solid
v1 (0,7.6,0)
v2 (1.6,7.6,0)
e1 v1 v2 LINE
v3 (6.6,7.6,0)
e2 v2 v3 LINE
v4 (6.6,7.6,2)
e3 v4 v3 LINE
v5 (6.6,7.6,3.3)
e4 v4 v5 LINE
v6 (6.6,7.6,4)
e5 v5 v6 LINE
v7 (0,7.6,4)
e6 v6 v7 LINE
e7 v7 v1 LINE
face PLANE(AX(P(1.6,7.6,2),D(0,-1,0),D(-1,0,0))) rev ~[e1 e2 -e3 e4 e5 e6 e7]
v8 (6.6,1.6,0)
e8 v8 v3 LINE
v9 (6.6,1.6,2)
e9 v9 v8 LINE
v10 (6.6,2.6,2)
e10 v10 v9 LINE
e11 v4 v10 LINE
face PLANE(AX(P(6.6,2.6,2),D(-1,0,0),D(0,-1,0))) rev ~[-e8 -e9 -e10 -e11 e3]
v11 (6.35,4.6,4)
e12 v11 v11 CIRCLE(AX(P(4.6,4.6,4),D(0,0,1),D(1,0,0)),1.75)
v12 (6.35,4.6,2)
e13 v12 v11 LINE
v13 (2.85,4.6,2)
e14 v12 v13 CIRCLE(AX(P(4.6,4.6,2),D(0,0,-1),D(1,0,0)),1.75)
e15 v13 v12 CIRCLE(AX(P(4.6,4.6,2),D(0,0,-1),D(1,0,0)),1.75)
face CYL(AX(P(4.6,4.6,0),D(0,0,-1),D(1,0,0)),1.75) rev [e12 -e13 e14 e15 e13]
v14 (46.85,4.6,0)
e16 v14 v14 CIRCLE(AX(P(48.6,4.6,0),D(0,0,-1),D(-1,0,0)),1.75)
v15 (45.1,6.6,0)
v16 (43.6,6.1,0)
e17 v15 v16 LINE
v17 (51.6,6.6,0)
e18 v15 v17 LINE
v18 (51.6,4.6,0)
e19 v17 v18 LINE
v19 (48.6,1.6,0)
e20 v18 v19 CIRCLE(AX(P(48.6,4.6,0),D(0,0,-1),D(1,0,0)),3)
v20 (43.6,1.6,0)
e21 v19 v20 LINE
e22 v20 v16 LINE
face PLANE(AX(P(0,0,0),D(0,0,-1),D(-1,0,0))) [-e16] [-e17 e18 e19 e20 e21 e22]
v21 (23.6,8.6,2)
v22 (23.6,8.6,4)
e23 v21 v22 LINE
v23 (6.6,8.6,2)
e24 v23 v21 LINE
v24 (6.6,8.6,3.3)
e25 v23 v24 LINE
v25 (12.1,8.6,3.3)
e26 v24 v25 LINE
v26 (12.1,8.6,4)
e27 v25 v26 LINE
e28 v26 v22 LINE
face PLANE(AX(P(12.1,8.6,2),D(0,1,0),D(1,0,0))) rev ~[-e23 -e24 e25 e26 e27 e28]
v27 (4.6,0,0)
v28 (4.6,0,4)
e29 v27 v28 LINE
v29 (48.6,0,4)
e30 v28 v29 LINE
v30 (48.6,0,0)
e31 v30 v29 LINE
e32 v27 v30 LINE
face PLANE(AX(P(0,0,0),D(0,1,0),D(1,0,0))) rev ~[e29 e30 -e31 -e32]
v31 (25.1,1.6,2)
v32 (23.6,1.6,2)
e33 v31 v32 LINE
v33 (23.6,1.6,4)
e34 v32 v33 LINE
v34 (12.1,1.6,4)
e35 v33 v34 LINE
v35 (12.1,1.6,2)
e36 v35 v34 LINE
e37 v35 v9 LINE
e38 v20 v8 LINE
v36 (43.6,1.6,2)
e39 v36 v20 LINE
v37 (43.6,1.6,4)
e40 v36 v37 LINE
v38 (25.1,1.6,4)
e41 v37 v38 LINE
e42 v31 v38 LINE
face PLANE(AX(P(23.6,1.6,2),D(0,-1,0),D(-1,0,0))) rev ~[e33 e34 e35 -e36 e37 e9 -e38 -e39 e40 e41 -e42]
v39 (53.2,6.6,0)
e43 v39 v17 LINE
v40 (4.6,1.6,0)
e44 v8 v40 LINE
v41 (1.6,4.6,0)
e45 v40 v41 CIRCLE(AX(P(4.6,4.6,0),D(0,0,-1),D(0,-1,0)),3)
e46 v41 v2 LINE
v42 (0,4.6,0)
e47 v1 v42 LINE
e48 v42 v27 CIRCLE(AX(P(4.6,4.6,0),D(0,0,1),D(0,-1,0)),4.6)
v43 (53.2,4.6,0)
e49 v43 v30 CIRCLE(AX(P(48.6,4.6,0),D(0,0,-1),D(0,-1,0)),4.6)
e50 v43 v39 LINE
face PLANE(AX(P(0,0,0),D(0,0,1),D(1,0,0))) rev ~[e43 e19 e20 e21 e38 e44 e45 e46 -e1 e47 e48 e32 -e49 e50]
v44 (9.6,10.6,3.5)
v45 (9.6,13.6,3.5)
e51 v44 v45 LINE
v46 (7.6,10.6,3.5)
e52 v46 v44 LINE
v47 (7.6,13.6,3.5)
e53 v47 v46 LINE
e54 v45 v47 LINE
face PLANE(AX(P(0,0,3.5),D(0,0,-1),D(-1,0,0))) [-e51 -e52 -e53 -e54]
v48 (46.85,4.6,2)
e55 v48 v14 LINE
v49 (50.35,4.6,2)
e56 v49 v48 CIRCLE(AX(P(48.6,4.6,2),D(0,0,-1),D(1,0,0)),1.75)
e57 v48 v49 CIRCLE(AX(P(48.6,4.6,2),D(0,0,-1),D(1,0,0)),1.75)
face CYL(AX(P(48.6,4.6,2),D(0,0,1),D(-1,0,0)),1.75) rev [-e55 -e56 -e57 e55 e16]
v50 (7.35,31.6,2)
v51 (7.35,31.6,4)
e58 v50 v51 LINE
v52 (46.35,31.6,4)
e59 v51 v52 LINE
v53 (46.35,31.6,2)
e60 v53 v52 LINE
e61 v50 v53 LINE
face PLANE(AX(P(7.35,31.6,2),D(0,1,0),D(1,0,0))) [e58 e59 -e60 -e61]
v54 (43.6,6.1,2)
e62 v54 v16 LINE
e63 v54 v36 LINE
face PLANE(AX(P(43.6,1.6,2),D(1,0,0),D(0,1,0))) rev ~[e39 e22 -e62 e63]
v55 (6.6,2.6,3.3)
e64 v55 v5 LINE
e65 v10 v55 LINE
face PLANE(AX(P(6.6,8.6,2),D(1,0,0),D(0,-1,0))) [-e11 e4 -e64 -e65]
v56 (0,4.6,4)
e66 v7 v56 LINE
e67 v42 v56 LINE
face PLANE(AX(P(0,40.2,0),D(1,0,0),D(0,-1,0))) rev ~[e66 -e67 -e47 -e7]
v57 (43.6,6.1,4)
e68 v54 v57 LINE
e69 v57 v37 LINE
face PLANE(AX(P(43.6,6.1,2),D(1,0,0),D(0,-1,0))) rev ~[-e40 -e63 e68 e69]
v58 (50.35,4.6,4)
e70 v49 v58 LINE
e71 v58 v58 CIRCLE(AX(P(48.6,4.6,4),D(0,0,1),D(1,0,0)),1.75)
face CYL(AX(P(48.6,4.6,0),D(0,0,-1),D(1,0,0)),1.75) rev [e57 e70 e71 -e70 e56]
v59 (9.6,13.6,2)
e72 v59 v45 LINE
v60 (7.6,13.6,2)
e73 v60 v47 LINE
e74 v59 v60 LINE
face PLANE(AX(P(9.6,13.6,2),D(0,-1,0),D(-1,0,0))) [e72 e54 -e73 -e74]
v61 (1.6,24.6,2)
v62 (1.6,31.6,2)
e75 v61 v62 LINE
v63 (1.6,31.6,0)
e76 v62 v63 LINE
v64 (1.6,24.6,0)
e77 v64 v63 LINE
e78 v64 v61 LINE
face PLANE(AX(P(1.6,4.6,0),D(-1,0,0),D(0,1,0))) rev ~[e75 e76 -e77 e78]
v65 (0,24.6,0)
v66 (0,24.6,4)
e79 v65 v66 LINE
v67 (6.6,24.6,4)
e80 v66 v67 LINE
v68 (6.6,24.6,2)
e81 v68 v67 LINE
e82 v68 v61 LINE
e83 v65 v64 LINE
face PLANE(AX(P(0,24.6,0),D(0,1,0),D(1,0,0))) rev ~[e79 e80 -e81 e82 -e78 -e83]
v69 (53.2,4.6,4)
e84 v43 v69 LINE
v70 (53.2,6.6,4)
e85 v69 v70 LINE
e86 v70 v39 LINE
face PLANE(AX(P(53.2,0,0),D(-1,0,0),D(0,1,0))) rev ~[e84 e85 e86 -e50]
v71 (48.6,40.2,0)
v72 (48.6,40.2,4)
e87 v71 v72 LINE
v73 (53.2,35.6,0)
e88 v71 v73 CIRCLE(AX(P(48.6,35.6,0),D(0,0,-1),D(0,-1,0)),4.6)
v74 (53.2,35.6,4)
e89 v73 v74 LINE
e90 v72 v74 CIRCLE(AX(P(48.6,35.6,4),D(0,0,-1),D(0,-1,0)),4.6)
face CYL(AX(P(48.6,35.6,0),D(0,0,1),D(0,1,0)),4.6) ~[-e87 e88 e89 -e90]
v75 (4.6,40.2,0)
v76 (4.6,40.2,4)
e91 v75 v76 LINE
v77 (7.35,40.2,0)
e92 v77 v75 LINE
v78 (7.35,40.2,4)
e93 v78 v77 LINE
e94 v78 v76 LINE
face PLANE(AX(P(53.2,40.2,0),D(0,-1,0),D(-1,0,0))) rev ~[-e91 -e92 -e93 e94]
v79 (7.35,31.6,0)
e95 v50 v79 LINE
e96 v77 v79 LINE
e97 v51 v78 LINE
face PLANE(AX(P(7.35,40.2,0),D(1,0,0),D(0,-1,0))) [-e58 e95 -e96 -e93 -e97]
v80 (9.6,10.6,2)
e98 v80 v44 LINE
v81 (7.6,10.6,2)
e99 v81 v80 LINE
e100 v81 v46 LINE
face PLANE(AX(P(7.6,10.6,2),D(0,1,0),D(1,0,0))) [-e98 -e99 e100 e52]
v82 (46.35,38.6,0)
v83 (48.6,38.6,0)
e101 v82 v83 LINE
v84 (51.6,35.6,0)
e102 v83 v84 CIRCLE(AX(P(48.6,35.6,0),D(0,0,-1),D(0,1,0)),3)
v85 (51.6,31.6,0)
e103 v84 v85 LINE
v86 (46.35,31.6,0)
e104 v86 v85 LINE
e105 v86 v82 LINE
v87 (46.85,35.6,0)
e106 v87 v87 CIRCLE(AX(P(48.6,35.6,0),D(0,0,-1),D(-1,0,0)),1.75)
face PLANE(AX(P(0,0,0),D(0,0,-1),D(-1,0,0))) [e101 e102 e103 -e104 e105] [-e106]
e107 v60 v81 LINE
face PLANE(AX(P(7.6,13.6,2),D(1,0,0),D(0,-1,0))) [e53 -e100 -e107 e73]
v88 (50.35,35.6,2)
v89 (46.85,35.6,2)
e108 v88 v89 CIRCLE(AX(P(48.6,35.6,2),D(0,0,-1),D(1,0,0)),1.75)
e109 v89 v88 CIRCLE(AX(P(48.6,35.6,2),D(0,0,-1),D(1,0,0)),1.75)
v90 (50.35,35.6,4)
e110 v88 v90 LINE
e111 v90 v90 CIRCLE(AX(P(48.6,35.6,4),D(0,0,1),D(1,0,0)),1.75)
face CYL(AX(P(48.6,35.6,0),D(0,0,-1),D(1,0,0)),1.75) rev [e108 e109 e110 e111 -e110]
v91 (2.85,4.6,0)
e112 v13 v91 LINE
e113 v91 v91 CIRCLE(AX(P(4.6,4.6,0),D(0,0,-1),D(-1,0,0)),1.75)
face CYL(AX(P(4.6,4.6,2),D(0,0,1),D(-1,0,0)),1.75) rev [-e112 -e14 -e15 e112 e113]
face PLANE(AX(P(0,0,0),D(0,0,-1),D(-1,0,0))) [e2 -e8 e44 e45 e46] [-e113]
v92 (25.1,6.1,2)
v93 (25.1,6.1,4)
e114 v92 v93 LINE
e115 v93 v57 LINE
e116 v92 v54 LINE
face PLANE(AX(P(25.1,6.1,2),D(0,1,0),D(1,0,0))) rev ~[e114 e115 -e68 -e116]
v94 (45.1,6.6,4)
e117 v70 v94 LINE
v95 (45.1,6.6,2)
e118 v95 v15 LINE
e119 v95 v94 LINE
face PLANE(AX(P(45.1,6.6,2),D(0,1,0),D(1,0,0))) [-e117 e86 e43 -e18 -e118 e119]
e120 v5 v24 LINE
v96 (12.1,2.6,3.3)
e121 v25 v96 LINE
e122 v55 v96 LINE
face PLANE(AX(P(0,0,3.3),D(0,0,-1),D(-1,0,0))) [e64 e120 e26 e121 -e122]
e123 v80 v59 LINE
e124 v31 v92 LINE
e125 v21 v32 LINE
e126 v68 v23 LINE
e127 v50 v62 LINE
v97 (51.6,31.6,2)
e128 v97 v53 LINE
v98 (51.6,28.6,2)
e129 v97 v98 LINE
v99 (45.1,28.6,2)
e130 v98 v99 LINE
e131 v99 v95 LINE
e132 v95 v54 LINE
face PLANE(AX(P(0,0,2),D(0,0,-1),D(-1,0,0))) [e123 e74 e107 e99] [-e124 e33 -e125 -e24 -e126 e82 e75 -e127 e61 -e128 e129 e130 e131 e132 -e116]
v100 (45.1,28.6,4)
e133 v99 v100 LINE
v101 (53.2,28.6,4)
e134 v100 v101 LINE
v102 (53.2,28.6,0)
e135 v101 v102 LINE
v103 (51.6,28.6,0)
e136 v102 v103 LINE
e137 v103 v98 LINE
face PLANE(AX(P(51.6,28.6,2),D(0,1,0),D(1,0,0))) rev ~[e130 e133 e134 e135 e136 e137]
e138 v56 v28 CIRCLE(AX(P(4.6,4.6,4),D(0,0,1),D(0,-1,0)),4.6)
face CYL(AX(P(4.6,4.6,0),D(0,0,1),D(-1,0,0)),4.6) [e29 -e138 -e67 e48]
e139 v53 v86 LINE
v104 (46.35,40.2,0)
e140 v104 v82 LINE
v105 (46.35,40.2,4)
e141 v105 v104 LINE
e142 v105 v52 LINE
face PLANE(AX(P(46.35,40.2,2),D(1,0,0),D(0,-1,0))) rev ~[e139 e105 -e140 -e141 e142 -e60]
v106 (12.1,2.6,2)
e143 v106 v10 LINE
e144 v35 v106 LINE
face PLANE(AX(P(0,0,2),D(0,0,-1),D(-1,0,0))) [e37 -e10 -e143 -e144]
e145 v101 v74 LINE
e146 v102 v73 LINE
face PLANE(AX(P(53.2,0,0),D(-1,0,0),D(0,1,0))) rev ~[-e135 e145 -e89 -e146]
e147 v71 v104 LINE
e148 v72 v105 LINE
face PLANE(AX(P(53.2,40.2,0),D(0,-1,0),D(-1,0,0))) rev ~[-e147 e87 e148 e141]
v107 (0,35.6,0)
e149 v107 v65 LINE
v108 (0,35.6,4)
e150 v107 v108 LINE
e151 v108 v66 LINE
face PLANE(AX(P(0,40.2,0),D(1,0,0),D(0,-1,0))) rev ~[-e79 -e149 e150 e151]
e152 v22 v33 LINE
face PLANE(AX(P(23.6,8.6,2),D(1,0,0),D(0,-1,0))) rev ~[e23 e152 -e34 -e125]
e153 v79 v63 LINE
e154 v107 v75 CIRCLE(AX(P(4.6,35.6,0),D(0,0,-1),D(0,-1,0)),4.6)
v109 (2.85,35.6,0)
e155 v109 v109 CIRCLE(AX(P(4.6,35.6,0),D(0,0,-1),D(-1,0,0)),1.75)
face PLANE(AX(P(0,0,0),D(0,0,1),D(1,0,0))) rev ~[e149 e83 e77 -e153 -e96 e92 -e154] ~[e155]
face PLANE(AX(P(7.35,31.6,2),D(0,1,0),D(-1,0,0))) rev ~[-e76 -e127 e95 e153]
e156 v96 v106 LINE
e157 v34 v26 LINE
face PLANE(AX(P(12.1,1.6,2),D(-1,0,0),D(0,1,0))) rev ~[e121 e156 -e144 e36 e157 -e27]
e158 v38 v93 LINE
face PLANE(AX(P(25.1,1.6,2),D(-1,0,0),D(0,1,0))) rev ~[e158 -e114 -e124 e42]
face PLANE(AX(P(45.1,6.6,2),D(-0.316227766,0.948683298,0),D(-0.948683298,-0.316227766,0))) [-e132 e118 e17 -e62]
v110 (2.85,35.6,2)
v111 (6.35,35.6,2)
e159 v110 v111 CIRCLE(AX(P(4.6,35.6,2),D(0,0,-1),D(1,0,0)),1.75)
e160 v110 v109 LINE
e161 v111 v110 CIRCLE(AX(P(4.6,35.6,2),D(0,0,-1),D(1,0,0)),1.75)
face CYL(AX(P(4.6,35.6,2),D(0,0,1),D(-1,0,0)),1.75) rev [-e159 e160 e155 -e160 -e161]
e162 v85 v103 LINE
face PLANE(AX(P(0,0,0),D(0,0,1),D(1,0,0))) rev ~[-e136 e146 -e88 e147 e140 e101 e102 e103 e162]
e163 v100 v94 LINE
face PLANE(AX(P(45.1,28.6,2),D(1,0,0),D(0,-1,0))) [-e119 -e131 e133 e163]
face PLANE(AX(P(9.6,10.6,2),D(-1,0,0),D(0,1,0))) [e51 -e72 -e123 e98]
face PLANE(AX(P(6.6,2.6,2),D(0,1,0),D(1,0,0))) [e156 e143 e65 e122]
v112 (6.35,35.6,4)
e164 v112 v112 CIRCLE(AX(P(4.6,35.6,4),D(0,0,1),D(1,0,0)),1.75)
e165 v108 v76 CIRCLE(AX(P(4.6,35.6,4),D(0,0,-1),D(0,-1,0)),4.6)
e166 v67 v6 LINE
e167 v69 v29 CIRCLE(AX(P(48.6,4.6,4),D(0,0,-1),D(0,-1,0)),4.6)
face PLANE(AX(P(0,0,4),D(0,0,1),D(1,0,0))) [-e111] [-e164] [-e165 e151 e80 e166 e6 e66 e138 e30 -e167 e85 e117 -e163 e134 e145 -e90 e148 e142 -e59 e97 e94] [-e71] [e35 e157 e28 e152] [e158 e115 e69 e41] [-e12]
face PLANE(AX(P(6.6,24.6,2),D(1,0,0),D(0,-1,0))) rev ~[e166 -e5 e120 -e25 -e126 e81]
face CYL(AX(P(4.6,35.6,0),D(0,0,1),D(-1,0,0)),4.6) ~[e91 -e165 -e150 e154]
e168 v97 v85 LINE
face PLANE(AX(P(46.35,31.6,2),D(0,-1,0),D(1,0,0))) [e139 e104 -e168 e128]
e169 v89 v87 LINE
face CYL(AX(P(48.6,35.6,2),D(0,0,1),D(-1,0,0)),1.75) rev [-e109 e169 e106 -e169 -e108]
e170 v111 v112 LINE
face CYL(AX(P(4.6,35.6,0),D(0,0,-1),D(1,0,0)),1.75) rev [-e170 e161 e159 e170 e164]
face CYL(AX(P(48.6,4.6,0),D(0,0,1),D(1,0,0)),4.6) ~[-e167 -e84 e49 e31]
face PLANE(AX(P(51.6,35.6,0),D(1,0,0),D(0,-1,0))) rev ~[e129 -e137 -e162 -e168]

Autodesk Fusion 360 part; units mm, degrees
sketch "Sketch1" plane through (0, 0, 0) normal (0, 0, 1) x (1, 0, 0)
  line L0 (0, 0) -> (53.2, 0)
  line L1 (53.2, 0) -> (53.2, 40.2)
  line L2 (53.2, 40.2) -> (0, 40.2)
  line L3 (0, 40.2) -> (0, 0)
  circle A0 centre (4.6, 4.6) radius 1.75
  circle A1 centre (4.6, 35.6) radius 1.75
  circle A2 centre (48.6, 35.6) radius 1.75
  circle A3 centre (48.6, 4.6) radius 1.75
  dimension "d1" = 53.2
  dimension "d2" = 40.2
  dimension "d3" = 4.6
  dimension "d4" = 4.6
  dimension "d5" = 4.6
  dimension "d6" = 4.6
  dimension "d7" = 4.6
  dimension "d8" = 4.6
  dimension "d9" = 4.6
  dimension "d10" = 4.6
  dimension "d11" = 3.5
  dimension "d12" = 3.5
  dimension "d13" = 3.5
  dimension "d14" = 3.5
extrude "Extrude1" add sketch "Sketch1" along normal blind 4
fillet "Fillet1" radius 4.6 4 edges at (0, 40.2, 2) (0, 0, 2) (53.2, 0, 2) (53.2, 40.2, 2)
sketch "Sketch2" plane through (0, 0, 0) normal (0, 0, -1) x (-1, 0, 0)
  arc A0 (-48.6, 40.2) -> (-53.2, 35.6) centre (-48.6, 35.6) ccw
  line L0 (-53.2, 35.6) -> (-53.2, 4.6)
  arc A1 (-53.2, 4.6) -> (-48.6, 0) centre (-48.6, 4.6) ccw
  line L1 (-48.6, 0) -> (-4.6, 0)
  arc A2 (-4.6, 0) -> (0, 4.6) centre (-4.6, 4.6) ccw
  line L2 (0, 4.6) -> (0, 35.6)
  arc A3 (0, 35.6) -> (-4.6, 40.2) centre (-4.6, 35.6) ccw
  line L3 (-4.6, 40.2) -> (-48.6, 40.2)
  circle A4 centre (-48.6, 4.6) radius 1.75
  circle A5 centre (-48.6, 35.6) radius 1.75
  circle A6 centre (-4.6, 4.6) radius 1.75
  circle A7 centre (-4.6, 35.6) radius 1.75
  line L4 (-51.6, 35.6) -> (-51.6, 4.6)
  arc A8 (-51.6, 4.6) -> (-48.6, 1.6) centre (-48.6, 4.6) ccw
  line L5 (-48.6, 1.6) -> (-4.6, 1.6)
  arc A9 (-4.6, 1.6) -> (-1.6, 4.6) centre (-4.6, 4.6) ccw
  line L6 (-1.6, 4.6) -> (-1.6, 35.6)
  arc A10 (-1.6, 35.6) -> (-4.6, 38.6) centre (-4.6, 35.6) ccw
  line L7 (-4.6, 38.6) -> (-48.6, 38.6)
  arc A11 (-48.6, 38.6) -> (-51.6, 35.6) centre (-48.6, 35.6) ccw
  dimension "d18" = 1.6
extrude "Extrude2" cut sketch "Sketch2" against normal blind 2 contours L4 A8 L5 A9 L6 A10 L7 A11
sketch "Sketch3" plane through (0, 0, 0) normal (0, 0, -1) x (-1, 0, 0)
  line L0 (-51.6, 4.6) -> (-51.6, 35.6)
  arc A0 (-48.6, 38.6) -> (-51.6, 35.6) centre (-48.6, 35.6) ccw
  line L1 (-48.6, 38.6) -> (-4.6, 38.6)
  arc A1 (-1.6, 35.6) -> (-4.6, 38.6) centre (-4.6, 35.6) ccw
  line L2 (-1.6, 35.6) -> (-1.6, 4.6)
  arc A2 (-4.6, 1.6) -> (-1.6, 4.6) centre (-4.6, 4.6) ccw
  line L3 (-4.6, 1.6) -> (-48.6, 1.6)
  arc A3 (-51.6, 4.6) -> (-48.6, 1.6) centre (-48.6, 4.6) ccw
  arc A4 (-48.6, 40.2) -> (-53.2, 35.6) centre (-48.6, 35.6) ccw
  line L4 (-53.2, 35.6) -> (-53.2, 4.6)
  arc A5 (-53.2, 4.6) -> (-48.6, 0) centre (-48.6, 4.6) ccw
  line L5 (-48.6, 0) -> (-4.6, 0)
  arc A6 (-4.6, 0) -> (0, 4.6) centre (-4.6, 4.6) ccw
  line L6 (0, 4.6) -> (0, 35.6)
  arc A7 (0, 35.6) -> (-4.6, 40.2) centre (-4.6, 35.6) ccw
  line L7 (-4.6, 40.2) -> (-48.6, 40.2)
  line L8 (0, 24.6) -> (-1.6, 24.6)
  line L9 (0, 7.6) -> (-1.6, 7.6)
  line L10 (-53.2, 28.6) -> (-51.6, 28.6)
  line L11 (-53.2, 6.6) -> (-51.6, 6.6)
  line L12 (-46.35, 40.2) -> (-46.35, 38.6)
  line L13 (-7.35, 40.2) -> (-7.35, 38.6)
  dimension "d21" = 17
  dimension "d22" = 11
  dimension "d25" = 5
  dimension "d26" = 10
  dimension "d27" = 5.75
  dimension "d73" = 39
extrude "Extrude3" cut sketch "Sketch3" against normal blind 2 contours L0 L4 L10 L11 | L2 L6 L8 L9 | L1 L7 L12 L13
sketch "Sketch4" plane through (0, 0, 2) normal (0, 0, -1) x (-1, 0, 0)
  circle A0 centre (-48.6, 4.6) radius 1.75
  circle A1 centre (-4.6, 35.6) radius 1.75
  circle A2 centre (-4.6, 4.6) radius 1.75
  circle A3 centre (-48.6, 35.6) radius 1.75
  line L0 (-53.2, 28.6) -> (-53.2, 6.6)
  line L1 (0, 7.6) -> (0, 24.6)
  line L2 (-7.35, 40.2) -> (-46.35, 40.2)
  arc A4 (-48.6, 38.6) -> (-51.6, 35.6) centre (-48.6, 35.6) ccw
  line L3 (-51.6, 35.6) -> (-51.6, 28.6)
  line L4 (-51.6, 28.6) -> (-53.2, 28.6)
  line L5 (-53.2, 6.6) -> (-51.6, 6.6)
  line L6 (-51.6, 6.6) -> (-51.6, 4.6)
  arc A5 (-51.6, 4.6) -> (-48.6, 1.6) centre (-48.6, 4.6) ccw
  line L7 (-48.6, 1.6) -> (-4.6, 1.6)
  arc A6 (-4.6, 1.6) -> (-1.6, 4.6) centre (-4.6, 4.6) ccw
  line L8 (-1.6, 4.6) -> (-1.6, 7.6)
  line L9 (-1.6, 7.6) -> (0, 7.6)
  line L10 (0, 24.6) -> (-1.6, 24.6)
  line L11 (-1.6, 24.6) -> (-1.6, 35.6)
  arc A7 (-1.6, 35.6) -> (-4.6, 38.6) centre (-4.6, 35.6) ccw
  line L12 (-4.6, 38.6) -> (-7.35, 38.6)
  line L13 (-7.35, 38.6) -> (-7.35, 40.2)
  line L14 (-46.35, 40.2) -> (-46.35, 38.6)
  line L15 (-46.35, 38.6) -> (-48.6, 38.6)
  line L16 (-51.6, 28.6) -> (-45.1, 28.6)
  line L17 (-45.1, 28.6) -> (-45.1, 6.6)
  line L18 (-45.1, 6.6) -> (-51.6, 6.6)
  line L19 (-7.35, 38.6) -> (-7.35, 31.6)
  line L20 (-7.35, 31.6) -> (-46.35, 31.6)
  line L21 (-46.35, 31.6) -> (-46.35, 38.6)
  line L22 (-1.6, 24.6) -> (-6.6, 24.6)
  line L23 (-6.6, 24.6) -> (-6.6, 7.6)
  line L24 (-6.6, 7.6) -> (-1.6, 7.6)
  line L25 (-12.1, 1.6) -> (-12.1, 8.6)
  line L26 (-12.1, 8.6) -> (-23.6, 8.6)
  line L27 (-23.6, 8.6) -> (-23.6, 1.6)
  line L28 (-25.1, 1.6) -> (-25.1, 6.1)
  line L29 (-25.1, 6.1) -> (-43.6, 6.1)
  line L30 (-43.6, 6.1) -> (-43.6, 1.6)
  dimension "d74" = 6.5
  dimension "d75" = 7
  dimension "d76" = 5
  dimension "d77" = 10.5
  dimension "d78" = 11.5
  dimension "d79" = 7
  dimension "d80" = 4.5
  dimension "d81" = 23.5
  dimension "d82" = 18.5
extrude "Extrude4" cut sketch "Sketch4" against normal blind 2 contours L0 L4 L5 L16 L17 L18 | L2 L13 L14 L19 L20 L21 | L7 L28 L29 L30 | L7 L25 L26 L27 | L1 L9 L10 L22 L23 L24
sketch "Sketch5" plane through (0, 0, 2) normal (0, 0, -1) x (-1, 0, 0)
  line L0 (-51.6, 35.6) -> (-51.6, 28.6)
  line L1 (-48.6, 1.6) -> (-43.6, 1.6)
  line L2 (-1.6, 7.6) -> (-6.6, 7.6)
  line L3 (-6.6, 24.6) -> (-1.6, 24.6)
  line L4 (-7.35, 38.6) -> (-7.35, 31.6)
  line L5 (-4.6, 38.6) -> (-7.35, 38.6)
  line L6 (-46.35, 31.6) -> (-46.35, 38.6)
  line L7 (-51.6, 28.6) -> (-45.1, 28.6)
  line L8 (-45.1, 6.6) -> (-51.6, 6.6)
  circle A0 centre (-48.6, 35.6) radius 1.75
  circle A1 centre (-4.6, 4.6) radius 1.75
  circle A2 centre (-4.6, 35.6) radius 1.75
  circle A3 centre (-48.6, 4.6) radius 1.75
  line L9 (-12.6, 8.6) -> (-6.6, 8.6)
  line L10 (-6.6, 8.6) -> (-6.6, 2.6)
  line L11 (-6.6, 2.6) -> (-12.6, 2.6)
  line L12 (-12.6, 2.6) -> (-12.6, 8.6)
  arc A4 (-4.6, 1.6) -> (-1.6, 4.6) centre (-4.6, 4.6) ccw
  line L13 (-1.6, 4.6) -> (-1.6, 7.6)
  line L14 (-1.6, 24.6) -> (-1.6, 35.6)
  arc A5 (-1.6, 35.6) -> (-4.6, 38.6) centre (-4.6, 35.6) ccw
  line L15 (-46.35, 38.6) -> (-48.6, 38.6)
  arc A6 (-48.6, 38.6) -> (-51.6, 35.6) centre (-48.6, 35.6) ccw
  line L16 (-51.6, 6.6) -> (-51.6, 4.6)
  arc A7 (-51.6, 4.6) -> (-48.6, 1.6) centre (-48.6, 4.6) ccw
  line L17 (-45.1, 28.6) -> (-45.1, 6.6)
  line L18 (-43.6, 1.6) -> (-43.6, 6.1)
  line L19 (-43.6, 6.1) -> (-25.1, 6.1)
  line L20 (-25.1, 6.1) -> (-25.1, 1.6)
  line L21 (-25.1, 1.6) -> (-23.6, 1.6)
  line L22 (-23.6, 1.6) -> (-23.6, 8.6)
  line L23 (-23.6, 8.6) -> (-12.1, 8.6)
  line L24 (-12.1, 8.6) -> (-12.1, 1.6)
  line L25 (-12.1, 1.6) -> (-4.6, 1.6)
  line L26 (-6.6, 7.6) -> (-6.6, 24.6)
  line L27 (-7.35, 31.6) -> (-46.35, 31.6)
  dimension "d49" = 6
  dimension "d51" = 6
  dimension "d83" = 1
  dimension "d84" = 5
extrude "Extrude5" cut sketch "Sketch5" against normal blind 1.3 contours L9 L10 L11 L24 L26 | L9 L11 L12 L23 L24
sketch "Sketch8" plane through (0, 0, 2) normal (0, 0, -1) x (-1, 0, 0)
  line L0 (-6.6, 24.6) -> (-1.6, 24.6)
  line L1 (-7.35, 38.6) -> (-7.35, 31.6)
  line L2 (-4.6, 38.6) -> (-7.35, 38.6)
  line L3 (-46.35, 31.6) -> (-46.35, 38.6)
  line L4 (-51.6, 28.6) -> (-45.1, 28.6)
  line L5 (-45.1, 6.6) -> (-51.6, 6.6)
  line L6 (-51.6, 35.6) -> (-51.6, 28.6)
  line L7 (-48.6, 1.6) -> (-43.6, 1.6)
  line L8 (-23.6, 8.6) -> (-6.6, 8.6)
  circle A0 centre (-48.6, 35.6) radius 1.75
  circle A1 centre (-4.6, 35.6) radius 1.75
  circle A2 centre (-48.6, 4.6) radius 1.75
  arc A3 (-1.6, 35.6) -> (-4.6, 38.6) centre (-4.6, 35.6) ccw
  line L9 (-46.35, 38.6) -> (-48.6, 38.6)
  arc A4 (-48.6, 38.6) -> (-51.6, 35.6) centre (-48.6, 35.6) ccw
  line L10 (-51.6, 6.6) -> (-51.6, 4.6)
  arc A5 (-51.6, 4.6) -> (-48.6, 1.6) centre (-48.6, 4.6) ccw
  line L11 (-6.6, 8.6) -> (-6.6, 24.6)
  line L12 (-7.35, 31.6) -> (-46.35, 31.6)
  line L13 (-45.1, 28.6) -> (-45.1, 6.6)
  line L14 (-43.6, 1.6) -> (-43.6, 6.1)
  line L15 (-43.6, 6.1) -> (-25.1, 6.1)
  line L16 (-25.1, 6.1) -> (-25.1, 1.6)
  line L17 (-25.1, 1.6) -> (-23.6, 1.6)
  line L18 (-23.6, 1.6) -> (-23.6, 8.6)
  line L19 (-1.6, 24.6) -> (-1.6, 35.6)
  line L20 (-45.1, 6.6) -> (-43.6, 6.1)
  line L21 (-7.35, 31.6) -> (-1.6, 31.6)
  line L22 (-46.35, 31.6) -> (-46.6643, 31.6)
  line L23 (-46.6643, 31.6) -> (-51.6, 31.6)
  line L24 (-6.6, 7.6) -> (-6.6, 2.6)
  line L25 (-6.6, 2.6) -> (-12.1, 2.6)
  line L26 (-12.1, 2.6) -> (-12.1, 1.6)
  line L27 (-12.1, 1.6) -> (-4.6, 1.6)
  arc A6 (-4.6, 1.6) -> (-1.6, 4.6) centre (-4.6, 4.6) ccw
  line L28 (-1.6, 4.6) -> (-1.6, 7.6)
  line L29 (-1.6, 7.6) -> (-6.6, 7.6)
  circle A7 centre (-4.6, 4.6) radius 1.75
  line L30 (-6.6, 2.6) -> (-6.6, 1.6)
extrude "Extrude8" add sketch "Sketch8" along normal blind 2 contours L1 L2 A3 L19 L21 | L3 L6 L9 A4 L22 L23 | L5 L7 L10 A5 L14 L20 | L24 L27 A6 L28 L29 L30
sketch "Sketch9" plane through (0, 0, 2) normal (0, 0, -1) x (-1, 0, 0)
  line L0 (-45.1, 6.6) -> (-43.6, 6.1)
  line L1 (-43.6, 6.1) -> (-25.1, 6.1)
  line L2 (-25.1, 6.1) -> (-25.1, 1.6)
  line L3 (-25.1, 1.6) -> (-23.6, 1.6)
  line L4 (-23.6, 1.6) -> (-23.6, 8.6)
  line L5 (-23.6, 8.6) -> (-6.6, 8.6)
  line L6 (-6.6, 8.6) -> (-6.6, 24.6)
  line L7 (-6.6, 24.6) -> (-1.6, 24.6)
  line L8 (-1.6, 24.6) -> (-1.6, 31.6)
  line L9 (-1.6, 31.6) -> (-7.35, 31.6)
  line L10 (-7.35, 31.6) -> (-46.35, 31.6)
  line L11 (-46.35, 31.6) -> (-51.6, 31.6)
  line L12 (-51.6, 31.6) -> (-51.6, 28.6)
  line L13 (-51.6, 28.6) -> (-45.1, 28.6)
  line L14 (-45.1, 28.6) -> (-45.1, 6.6)
  line L15 (-7.6, 10.6) -> (-9.6, 10.6)
  line L16 (-9.6, 10.6) -> (-9.6, 13.6)
  line L17 (-9.6, 13.6) -> (-7.6, 13.6)
  line L18 (-7.6, 13.6) -> (-7.6, 10.6)
  dimension "d85" = 2
  dimension "d86" = 1
  dimension "d87" = 3
  dimension "d88" = 2
extrude "Extrude9" cut sketch "Sketch9" against normal blind 1.5 contours L15 L16 L17 L18
equation "d1 = 50 mm + ( ( 2 * 1.6 ) * 1 mm )"
equation "d2 = 37 mm + ( ( 2 * 1.6 ) * 1 mm )"
equation "d3 = 3 mm + 1.6 mm"
equation "d4 = d3"
equation "d5 = d4"
equation "d6 = d3"
equation "d7 = d3"
equation "d8 = d7"
equation "d9 = d4"
equation "d10 = d5"
equation "d17 = 3 mm + 1.6 mm"
